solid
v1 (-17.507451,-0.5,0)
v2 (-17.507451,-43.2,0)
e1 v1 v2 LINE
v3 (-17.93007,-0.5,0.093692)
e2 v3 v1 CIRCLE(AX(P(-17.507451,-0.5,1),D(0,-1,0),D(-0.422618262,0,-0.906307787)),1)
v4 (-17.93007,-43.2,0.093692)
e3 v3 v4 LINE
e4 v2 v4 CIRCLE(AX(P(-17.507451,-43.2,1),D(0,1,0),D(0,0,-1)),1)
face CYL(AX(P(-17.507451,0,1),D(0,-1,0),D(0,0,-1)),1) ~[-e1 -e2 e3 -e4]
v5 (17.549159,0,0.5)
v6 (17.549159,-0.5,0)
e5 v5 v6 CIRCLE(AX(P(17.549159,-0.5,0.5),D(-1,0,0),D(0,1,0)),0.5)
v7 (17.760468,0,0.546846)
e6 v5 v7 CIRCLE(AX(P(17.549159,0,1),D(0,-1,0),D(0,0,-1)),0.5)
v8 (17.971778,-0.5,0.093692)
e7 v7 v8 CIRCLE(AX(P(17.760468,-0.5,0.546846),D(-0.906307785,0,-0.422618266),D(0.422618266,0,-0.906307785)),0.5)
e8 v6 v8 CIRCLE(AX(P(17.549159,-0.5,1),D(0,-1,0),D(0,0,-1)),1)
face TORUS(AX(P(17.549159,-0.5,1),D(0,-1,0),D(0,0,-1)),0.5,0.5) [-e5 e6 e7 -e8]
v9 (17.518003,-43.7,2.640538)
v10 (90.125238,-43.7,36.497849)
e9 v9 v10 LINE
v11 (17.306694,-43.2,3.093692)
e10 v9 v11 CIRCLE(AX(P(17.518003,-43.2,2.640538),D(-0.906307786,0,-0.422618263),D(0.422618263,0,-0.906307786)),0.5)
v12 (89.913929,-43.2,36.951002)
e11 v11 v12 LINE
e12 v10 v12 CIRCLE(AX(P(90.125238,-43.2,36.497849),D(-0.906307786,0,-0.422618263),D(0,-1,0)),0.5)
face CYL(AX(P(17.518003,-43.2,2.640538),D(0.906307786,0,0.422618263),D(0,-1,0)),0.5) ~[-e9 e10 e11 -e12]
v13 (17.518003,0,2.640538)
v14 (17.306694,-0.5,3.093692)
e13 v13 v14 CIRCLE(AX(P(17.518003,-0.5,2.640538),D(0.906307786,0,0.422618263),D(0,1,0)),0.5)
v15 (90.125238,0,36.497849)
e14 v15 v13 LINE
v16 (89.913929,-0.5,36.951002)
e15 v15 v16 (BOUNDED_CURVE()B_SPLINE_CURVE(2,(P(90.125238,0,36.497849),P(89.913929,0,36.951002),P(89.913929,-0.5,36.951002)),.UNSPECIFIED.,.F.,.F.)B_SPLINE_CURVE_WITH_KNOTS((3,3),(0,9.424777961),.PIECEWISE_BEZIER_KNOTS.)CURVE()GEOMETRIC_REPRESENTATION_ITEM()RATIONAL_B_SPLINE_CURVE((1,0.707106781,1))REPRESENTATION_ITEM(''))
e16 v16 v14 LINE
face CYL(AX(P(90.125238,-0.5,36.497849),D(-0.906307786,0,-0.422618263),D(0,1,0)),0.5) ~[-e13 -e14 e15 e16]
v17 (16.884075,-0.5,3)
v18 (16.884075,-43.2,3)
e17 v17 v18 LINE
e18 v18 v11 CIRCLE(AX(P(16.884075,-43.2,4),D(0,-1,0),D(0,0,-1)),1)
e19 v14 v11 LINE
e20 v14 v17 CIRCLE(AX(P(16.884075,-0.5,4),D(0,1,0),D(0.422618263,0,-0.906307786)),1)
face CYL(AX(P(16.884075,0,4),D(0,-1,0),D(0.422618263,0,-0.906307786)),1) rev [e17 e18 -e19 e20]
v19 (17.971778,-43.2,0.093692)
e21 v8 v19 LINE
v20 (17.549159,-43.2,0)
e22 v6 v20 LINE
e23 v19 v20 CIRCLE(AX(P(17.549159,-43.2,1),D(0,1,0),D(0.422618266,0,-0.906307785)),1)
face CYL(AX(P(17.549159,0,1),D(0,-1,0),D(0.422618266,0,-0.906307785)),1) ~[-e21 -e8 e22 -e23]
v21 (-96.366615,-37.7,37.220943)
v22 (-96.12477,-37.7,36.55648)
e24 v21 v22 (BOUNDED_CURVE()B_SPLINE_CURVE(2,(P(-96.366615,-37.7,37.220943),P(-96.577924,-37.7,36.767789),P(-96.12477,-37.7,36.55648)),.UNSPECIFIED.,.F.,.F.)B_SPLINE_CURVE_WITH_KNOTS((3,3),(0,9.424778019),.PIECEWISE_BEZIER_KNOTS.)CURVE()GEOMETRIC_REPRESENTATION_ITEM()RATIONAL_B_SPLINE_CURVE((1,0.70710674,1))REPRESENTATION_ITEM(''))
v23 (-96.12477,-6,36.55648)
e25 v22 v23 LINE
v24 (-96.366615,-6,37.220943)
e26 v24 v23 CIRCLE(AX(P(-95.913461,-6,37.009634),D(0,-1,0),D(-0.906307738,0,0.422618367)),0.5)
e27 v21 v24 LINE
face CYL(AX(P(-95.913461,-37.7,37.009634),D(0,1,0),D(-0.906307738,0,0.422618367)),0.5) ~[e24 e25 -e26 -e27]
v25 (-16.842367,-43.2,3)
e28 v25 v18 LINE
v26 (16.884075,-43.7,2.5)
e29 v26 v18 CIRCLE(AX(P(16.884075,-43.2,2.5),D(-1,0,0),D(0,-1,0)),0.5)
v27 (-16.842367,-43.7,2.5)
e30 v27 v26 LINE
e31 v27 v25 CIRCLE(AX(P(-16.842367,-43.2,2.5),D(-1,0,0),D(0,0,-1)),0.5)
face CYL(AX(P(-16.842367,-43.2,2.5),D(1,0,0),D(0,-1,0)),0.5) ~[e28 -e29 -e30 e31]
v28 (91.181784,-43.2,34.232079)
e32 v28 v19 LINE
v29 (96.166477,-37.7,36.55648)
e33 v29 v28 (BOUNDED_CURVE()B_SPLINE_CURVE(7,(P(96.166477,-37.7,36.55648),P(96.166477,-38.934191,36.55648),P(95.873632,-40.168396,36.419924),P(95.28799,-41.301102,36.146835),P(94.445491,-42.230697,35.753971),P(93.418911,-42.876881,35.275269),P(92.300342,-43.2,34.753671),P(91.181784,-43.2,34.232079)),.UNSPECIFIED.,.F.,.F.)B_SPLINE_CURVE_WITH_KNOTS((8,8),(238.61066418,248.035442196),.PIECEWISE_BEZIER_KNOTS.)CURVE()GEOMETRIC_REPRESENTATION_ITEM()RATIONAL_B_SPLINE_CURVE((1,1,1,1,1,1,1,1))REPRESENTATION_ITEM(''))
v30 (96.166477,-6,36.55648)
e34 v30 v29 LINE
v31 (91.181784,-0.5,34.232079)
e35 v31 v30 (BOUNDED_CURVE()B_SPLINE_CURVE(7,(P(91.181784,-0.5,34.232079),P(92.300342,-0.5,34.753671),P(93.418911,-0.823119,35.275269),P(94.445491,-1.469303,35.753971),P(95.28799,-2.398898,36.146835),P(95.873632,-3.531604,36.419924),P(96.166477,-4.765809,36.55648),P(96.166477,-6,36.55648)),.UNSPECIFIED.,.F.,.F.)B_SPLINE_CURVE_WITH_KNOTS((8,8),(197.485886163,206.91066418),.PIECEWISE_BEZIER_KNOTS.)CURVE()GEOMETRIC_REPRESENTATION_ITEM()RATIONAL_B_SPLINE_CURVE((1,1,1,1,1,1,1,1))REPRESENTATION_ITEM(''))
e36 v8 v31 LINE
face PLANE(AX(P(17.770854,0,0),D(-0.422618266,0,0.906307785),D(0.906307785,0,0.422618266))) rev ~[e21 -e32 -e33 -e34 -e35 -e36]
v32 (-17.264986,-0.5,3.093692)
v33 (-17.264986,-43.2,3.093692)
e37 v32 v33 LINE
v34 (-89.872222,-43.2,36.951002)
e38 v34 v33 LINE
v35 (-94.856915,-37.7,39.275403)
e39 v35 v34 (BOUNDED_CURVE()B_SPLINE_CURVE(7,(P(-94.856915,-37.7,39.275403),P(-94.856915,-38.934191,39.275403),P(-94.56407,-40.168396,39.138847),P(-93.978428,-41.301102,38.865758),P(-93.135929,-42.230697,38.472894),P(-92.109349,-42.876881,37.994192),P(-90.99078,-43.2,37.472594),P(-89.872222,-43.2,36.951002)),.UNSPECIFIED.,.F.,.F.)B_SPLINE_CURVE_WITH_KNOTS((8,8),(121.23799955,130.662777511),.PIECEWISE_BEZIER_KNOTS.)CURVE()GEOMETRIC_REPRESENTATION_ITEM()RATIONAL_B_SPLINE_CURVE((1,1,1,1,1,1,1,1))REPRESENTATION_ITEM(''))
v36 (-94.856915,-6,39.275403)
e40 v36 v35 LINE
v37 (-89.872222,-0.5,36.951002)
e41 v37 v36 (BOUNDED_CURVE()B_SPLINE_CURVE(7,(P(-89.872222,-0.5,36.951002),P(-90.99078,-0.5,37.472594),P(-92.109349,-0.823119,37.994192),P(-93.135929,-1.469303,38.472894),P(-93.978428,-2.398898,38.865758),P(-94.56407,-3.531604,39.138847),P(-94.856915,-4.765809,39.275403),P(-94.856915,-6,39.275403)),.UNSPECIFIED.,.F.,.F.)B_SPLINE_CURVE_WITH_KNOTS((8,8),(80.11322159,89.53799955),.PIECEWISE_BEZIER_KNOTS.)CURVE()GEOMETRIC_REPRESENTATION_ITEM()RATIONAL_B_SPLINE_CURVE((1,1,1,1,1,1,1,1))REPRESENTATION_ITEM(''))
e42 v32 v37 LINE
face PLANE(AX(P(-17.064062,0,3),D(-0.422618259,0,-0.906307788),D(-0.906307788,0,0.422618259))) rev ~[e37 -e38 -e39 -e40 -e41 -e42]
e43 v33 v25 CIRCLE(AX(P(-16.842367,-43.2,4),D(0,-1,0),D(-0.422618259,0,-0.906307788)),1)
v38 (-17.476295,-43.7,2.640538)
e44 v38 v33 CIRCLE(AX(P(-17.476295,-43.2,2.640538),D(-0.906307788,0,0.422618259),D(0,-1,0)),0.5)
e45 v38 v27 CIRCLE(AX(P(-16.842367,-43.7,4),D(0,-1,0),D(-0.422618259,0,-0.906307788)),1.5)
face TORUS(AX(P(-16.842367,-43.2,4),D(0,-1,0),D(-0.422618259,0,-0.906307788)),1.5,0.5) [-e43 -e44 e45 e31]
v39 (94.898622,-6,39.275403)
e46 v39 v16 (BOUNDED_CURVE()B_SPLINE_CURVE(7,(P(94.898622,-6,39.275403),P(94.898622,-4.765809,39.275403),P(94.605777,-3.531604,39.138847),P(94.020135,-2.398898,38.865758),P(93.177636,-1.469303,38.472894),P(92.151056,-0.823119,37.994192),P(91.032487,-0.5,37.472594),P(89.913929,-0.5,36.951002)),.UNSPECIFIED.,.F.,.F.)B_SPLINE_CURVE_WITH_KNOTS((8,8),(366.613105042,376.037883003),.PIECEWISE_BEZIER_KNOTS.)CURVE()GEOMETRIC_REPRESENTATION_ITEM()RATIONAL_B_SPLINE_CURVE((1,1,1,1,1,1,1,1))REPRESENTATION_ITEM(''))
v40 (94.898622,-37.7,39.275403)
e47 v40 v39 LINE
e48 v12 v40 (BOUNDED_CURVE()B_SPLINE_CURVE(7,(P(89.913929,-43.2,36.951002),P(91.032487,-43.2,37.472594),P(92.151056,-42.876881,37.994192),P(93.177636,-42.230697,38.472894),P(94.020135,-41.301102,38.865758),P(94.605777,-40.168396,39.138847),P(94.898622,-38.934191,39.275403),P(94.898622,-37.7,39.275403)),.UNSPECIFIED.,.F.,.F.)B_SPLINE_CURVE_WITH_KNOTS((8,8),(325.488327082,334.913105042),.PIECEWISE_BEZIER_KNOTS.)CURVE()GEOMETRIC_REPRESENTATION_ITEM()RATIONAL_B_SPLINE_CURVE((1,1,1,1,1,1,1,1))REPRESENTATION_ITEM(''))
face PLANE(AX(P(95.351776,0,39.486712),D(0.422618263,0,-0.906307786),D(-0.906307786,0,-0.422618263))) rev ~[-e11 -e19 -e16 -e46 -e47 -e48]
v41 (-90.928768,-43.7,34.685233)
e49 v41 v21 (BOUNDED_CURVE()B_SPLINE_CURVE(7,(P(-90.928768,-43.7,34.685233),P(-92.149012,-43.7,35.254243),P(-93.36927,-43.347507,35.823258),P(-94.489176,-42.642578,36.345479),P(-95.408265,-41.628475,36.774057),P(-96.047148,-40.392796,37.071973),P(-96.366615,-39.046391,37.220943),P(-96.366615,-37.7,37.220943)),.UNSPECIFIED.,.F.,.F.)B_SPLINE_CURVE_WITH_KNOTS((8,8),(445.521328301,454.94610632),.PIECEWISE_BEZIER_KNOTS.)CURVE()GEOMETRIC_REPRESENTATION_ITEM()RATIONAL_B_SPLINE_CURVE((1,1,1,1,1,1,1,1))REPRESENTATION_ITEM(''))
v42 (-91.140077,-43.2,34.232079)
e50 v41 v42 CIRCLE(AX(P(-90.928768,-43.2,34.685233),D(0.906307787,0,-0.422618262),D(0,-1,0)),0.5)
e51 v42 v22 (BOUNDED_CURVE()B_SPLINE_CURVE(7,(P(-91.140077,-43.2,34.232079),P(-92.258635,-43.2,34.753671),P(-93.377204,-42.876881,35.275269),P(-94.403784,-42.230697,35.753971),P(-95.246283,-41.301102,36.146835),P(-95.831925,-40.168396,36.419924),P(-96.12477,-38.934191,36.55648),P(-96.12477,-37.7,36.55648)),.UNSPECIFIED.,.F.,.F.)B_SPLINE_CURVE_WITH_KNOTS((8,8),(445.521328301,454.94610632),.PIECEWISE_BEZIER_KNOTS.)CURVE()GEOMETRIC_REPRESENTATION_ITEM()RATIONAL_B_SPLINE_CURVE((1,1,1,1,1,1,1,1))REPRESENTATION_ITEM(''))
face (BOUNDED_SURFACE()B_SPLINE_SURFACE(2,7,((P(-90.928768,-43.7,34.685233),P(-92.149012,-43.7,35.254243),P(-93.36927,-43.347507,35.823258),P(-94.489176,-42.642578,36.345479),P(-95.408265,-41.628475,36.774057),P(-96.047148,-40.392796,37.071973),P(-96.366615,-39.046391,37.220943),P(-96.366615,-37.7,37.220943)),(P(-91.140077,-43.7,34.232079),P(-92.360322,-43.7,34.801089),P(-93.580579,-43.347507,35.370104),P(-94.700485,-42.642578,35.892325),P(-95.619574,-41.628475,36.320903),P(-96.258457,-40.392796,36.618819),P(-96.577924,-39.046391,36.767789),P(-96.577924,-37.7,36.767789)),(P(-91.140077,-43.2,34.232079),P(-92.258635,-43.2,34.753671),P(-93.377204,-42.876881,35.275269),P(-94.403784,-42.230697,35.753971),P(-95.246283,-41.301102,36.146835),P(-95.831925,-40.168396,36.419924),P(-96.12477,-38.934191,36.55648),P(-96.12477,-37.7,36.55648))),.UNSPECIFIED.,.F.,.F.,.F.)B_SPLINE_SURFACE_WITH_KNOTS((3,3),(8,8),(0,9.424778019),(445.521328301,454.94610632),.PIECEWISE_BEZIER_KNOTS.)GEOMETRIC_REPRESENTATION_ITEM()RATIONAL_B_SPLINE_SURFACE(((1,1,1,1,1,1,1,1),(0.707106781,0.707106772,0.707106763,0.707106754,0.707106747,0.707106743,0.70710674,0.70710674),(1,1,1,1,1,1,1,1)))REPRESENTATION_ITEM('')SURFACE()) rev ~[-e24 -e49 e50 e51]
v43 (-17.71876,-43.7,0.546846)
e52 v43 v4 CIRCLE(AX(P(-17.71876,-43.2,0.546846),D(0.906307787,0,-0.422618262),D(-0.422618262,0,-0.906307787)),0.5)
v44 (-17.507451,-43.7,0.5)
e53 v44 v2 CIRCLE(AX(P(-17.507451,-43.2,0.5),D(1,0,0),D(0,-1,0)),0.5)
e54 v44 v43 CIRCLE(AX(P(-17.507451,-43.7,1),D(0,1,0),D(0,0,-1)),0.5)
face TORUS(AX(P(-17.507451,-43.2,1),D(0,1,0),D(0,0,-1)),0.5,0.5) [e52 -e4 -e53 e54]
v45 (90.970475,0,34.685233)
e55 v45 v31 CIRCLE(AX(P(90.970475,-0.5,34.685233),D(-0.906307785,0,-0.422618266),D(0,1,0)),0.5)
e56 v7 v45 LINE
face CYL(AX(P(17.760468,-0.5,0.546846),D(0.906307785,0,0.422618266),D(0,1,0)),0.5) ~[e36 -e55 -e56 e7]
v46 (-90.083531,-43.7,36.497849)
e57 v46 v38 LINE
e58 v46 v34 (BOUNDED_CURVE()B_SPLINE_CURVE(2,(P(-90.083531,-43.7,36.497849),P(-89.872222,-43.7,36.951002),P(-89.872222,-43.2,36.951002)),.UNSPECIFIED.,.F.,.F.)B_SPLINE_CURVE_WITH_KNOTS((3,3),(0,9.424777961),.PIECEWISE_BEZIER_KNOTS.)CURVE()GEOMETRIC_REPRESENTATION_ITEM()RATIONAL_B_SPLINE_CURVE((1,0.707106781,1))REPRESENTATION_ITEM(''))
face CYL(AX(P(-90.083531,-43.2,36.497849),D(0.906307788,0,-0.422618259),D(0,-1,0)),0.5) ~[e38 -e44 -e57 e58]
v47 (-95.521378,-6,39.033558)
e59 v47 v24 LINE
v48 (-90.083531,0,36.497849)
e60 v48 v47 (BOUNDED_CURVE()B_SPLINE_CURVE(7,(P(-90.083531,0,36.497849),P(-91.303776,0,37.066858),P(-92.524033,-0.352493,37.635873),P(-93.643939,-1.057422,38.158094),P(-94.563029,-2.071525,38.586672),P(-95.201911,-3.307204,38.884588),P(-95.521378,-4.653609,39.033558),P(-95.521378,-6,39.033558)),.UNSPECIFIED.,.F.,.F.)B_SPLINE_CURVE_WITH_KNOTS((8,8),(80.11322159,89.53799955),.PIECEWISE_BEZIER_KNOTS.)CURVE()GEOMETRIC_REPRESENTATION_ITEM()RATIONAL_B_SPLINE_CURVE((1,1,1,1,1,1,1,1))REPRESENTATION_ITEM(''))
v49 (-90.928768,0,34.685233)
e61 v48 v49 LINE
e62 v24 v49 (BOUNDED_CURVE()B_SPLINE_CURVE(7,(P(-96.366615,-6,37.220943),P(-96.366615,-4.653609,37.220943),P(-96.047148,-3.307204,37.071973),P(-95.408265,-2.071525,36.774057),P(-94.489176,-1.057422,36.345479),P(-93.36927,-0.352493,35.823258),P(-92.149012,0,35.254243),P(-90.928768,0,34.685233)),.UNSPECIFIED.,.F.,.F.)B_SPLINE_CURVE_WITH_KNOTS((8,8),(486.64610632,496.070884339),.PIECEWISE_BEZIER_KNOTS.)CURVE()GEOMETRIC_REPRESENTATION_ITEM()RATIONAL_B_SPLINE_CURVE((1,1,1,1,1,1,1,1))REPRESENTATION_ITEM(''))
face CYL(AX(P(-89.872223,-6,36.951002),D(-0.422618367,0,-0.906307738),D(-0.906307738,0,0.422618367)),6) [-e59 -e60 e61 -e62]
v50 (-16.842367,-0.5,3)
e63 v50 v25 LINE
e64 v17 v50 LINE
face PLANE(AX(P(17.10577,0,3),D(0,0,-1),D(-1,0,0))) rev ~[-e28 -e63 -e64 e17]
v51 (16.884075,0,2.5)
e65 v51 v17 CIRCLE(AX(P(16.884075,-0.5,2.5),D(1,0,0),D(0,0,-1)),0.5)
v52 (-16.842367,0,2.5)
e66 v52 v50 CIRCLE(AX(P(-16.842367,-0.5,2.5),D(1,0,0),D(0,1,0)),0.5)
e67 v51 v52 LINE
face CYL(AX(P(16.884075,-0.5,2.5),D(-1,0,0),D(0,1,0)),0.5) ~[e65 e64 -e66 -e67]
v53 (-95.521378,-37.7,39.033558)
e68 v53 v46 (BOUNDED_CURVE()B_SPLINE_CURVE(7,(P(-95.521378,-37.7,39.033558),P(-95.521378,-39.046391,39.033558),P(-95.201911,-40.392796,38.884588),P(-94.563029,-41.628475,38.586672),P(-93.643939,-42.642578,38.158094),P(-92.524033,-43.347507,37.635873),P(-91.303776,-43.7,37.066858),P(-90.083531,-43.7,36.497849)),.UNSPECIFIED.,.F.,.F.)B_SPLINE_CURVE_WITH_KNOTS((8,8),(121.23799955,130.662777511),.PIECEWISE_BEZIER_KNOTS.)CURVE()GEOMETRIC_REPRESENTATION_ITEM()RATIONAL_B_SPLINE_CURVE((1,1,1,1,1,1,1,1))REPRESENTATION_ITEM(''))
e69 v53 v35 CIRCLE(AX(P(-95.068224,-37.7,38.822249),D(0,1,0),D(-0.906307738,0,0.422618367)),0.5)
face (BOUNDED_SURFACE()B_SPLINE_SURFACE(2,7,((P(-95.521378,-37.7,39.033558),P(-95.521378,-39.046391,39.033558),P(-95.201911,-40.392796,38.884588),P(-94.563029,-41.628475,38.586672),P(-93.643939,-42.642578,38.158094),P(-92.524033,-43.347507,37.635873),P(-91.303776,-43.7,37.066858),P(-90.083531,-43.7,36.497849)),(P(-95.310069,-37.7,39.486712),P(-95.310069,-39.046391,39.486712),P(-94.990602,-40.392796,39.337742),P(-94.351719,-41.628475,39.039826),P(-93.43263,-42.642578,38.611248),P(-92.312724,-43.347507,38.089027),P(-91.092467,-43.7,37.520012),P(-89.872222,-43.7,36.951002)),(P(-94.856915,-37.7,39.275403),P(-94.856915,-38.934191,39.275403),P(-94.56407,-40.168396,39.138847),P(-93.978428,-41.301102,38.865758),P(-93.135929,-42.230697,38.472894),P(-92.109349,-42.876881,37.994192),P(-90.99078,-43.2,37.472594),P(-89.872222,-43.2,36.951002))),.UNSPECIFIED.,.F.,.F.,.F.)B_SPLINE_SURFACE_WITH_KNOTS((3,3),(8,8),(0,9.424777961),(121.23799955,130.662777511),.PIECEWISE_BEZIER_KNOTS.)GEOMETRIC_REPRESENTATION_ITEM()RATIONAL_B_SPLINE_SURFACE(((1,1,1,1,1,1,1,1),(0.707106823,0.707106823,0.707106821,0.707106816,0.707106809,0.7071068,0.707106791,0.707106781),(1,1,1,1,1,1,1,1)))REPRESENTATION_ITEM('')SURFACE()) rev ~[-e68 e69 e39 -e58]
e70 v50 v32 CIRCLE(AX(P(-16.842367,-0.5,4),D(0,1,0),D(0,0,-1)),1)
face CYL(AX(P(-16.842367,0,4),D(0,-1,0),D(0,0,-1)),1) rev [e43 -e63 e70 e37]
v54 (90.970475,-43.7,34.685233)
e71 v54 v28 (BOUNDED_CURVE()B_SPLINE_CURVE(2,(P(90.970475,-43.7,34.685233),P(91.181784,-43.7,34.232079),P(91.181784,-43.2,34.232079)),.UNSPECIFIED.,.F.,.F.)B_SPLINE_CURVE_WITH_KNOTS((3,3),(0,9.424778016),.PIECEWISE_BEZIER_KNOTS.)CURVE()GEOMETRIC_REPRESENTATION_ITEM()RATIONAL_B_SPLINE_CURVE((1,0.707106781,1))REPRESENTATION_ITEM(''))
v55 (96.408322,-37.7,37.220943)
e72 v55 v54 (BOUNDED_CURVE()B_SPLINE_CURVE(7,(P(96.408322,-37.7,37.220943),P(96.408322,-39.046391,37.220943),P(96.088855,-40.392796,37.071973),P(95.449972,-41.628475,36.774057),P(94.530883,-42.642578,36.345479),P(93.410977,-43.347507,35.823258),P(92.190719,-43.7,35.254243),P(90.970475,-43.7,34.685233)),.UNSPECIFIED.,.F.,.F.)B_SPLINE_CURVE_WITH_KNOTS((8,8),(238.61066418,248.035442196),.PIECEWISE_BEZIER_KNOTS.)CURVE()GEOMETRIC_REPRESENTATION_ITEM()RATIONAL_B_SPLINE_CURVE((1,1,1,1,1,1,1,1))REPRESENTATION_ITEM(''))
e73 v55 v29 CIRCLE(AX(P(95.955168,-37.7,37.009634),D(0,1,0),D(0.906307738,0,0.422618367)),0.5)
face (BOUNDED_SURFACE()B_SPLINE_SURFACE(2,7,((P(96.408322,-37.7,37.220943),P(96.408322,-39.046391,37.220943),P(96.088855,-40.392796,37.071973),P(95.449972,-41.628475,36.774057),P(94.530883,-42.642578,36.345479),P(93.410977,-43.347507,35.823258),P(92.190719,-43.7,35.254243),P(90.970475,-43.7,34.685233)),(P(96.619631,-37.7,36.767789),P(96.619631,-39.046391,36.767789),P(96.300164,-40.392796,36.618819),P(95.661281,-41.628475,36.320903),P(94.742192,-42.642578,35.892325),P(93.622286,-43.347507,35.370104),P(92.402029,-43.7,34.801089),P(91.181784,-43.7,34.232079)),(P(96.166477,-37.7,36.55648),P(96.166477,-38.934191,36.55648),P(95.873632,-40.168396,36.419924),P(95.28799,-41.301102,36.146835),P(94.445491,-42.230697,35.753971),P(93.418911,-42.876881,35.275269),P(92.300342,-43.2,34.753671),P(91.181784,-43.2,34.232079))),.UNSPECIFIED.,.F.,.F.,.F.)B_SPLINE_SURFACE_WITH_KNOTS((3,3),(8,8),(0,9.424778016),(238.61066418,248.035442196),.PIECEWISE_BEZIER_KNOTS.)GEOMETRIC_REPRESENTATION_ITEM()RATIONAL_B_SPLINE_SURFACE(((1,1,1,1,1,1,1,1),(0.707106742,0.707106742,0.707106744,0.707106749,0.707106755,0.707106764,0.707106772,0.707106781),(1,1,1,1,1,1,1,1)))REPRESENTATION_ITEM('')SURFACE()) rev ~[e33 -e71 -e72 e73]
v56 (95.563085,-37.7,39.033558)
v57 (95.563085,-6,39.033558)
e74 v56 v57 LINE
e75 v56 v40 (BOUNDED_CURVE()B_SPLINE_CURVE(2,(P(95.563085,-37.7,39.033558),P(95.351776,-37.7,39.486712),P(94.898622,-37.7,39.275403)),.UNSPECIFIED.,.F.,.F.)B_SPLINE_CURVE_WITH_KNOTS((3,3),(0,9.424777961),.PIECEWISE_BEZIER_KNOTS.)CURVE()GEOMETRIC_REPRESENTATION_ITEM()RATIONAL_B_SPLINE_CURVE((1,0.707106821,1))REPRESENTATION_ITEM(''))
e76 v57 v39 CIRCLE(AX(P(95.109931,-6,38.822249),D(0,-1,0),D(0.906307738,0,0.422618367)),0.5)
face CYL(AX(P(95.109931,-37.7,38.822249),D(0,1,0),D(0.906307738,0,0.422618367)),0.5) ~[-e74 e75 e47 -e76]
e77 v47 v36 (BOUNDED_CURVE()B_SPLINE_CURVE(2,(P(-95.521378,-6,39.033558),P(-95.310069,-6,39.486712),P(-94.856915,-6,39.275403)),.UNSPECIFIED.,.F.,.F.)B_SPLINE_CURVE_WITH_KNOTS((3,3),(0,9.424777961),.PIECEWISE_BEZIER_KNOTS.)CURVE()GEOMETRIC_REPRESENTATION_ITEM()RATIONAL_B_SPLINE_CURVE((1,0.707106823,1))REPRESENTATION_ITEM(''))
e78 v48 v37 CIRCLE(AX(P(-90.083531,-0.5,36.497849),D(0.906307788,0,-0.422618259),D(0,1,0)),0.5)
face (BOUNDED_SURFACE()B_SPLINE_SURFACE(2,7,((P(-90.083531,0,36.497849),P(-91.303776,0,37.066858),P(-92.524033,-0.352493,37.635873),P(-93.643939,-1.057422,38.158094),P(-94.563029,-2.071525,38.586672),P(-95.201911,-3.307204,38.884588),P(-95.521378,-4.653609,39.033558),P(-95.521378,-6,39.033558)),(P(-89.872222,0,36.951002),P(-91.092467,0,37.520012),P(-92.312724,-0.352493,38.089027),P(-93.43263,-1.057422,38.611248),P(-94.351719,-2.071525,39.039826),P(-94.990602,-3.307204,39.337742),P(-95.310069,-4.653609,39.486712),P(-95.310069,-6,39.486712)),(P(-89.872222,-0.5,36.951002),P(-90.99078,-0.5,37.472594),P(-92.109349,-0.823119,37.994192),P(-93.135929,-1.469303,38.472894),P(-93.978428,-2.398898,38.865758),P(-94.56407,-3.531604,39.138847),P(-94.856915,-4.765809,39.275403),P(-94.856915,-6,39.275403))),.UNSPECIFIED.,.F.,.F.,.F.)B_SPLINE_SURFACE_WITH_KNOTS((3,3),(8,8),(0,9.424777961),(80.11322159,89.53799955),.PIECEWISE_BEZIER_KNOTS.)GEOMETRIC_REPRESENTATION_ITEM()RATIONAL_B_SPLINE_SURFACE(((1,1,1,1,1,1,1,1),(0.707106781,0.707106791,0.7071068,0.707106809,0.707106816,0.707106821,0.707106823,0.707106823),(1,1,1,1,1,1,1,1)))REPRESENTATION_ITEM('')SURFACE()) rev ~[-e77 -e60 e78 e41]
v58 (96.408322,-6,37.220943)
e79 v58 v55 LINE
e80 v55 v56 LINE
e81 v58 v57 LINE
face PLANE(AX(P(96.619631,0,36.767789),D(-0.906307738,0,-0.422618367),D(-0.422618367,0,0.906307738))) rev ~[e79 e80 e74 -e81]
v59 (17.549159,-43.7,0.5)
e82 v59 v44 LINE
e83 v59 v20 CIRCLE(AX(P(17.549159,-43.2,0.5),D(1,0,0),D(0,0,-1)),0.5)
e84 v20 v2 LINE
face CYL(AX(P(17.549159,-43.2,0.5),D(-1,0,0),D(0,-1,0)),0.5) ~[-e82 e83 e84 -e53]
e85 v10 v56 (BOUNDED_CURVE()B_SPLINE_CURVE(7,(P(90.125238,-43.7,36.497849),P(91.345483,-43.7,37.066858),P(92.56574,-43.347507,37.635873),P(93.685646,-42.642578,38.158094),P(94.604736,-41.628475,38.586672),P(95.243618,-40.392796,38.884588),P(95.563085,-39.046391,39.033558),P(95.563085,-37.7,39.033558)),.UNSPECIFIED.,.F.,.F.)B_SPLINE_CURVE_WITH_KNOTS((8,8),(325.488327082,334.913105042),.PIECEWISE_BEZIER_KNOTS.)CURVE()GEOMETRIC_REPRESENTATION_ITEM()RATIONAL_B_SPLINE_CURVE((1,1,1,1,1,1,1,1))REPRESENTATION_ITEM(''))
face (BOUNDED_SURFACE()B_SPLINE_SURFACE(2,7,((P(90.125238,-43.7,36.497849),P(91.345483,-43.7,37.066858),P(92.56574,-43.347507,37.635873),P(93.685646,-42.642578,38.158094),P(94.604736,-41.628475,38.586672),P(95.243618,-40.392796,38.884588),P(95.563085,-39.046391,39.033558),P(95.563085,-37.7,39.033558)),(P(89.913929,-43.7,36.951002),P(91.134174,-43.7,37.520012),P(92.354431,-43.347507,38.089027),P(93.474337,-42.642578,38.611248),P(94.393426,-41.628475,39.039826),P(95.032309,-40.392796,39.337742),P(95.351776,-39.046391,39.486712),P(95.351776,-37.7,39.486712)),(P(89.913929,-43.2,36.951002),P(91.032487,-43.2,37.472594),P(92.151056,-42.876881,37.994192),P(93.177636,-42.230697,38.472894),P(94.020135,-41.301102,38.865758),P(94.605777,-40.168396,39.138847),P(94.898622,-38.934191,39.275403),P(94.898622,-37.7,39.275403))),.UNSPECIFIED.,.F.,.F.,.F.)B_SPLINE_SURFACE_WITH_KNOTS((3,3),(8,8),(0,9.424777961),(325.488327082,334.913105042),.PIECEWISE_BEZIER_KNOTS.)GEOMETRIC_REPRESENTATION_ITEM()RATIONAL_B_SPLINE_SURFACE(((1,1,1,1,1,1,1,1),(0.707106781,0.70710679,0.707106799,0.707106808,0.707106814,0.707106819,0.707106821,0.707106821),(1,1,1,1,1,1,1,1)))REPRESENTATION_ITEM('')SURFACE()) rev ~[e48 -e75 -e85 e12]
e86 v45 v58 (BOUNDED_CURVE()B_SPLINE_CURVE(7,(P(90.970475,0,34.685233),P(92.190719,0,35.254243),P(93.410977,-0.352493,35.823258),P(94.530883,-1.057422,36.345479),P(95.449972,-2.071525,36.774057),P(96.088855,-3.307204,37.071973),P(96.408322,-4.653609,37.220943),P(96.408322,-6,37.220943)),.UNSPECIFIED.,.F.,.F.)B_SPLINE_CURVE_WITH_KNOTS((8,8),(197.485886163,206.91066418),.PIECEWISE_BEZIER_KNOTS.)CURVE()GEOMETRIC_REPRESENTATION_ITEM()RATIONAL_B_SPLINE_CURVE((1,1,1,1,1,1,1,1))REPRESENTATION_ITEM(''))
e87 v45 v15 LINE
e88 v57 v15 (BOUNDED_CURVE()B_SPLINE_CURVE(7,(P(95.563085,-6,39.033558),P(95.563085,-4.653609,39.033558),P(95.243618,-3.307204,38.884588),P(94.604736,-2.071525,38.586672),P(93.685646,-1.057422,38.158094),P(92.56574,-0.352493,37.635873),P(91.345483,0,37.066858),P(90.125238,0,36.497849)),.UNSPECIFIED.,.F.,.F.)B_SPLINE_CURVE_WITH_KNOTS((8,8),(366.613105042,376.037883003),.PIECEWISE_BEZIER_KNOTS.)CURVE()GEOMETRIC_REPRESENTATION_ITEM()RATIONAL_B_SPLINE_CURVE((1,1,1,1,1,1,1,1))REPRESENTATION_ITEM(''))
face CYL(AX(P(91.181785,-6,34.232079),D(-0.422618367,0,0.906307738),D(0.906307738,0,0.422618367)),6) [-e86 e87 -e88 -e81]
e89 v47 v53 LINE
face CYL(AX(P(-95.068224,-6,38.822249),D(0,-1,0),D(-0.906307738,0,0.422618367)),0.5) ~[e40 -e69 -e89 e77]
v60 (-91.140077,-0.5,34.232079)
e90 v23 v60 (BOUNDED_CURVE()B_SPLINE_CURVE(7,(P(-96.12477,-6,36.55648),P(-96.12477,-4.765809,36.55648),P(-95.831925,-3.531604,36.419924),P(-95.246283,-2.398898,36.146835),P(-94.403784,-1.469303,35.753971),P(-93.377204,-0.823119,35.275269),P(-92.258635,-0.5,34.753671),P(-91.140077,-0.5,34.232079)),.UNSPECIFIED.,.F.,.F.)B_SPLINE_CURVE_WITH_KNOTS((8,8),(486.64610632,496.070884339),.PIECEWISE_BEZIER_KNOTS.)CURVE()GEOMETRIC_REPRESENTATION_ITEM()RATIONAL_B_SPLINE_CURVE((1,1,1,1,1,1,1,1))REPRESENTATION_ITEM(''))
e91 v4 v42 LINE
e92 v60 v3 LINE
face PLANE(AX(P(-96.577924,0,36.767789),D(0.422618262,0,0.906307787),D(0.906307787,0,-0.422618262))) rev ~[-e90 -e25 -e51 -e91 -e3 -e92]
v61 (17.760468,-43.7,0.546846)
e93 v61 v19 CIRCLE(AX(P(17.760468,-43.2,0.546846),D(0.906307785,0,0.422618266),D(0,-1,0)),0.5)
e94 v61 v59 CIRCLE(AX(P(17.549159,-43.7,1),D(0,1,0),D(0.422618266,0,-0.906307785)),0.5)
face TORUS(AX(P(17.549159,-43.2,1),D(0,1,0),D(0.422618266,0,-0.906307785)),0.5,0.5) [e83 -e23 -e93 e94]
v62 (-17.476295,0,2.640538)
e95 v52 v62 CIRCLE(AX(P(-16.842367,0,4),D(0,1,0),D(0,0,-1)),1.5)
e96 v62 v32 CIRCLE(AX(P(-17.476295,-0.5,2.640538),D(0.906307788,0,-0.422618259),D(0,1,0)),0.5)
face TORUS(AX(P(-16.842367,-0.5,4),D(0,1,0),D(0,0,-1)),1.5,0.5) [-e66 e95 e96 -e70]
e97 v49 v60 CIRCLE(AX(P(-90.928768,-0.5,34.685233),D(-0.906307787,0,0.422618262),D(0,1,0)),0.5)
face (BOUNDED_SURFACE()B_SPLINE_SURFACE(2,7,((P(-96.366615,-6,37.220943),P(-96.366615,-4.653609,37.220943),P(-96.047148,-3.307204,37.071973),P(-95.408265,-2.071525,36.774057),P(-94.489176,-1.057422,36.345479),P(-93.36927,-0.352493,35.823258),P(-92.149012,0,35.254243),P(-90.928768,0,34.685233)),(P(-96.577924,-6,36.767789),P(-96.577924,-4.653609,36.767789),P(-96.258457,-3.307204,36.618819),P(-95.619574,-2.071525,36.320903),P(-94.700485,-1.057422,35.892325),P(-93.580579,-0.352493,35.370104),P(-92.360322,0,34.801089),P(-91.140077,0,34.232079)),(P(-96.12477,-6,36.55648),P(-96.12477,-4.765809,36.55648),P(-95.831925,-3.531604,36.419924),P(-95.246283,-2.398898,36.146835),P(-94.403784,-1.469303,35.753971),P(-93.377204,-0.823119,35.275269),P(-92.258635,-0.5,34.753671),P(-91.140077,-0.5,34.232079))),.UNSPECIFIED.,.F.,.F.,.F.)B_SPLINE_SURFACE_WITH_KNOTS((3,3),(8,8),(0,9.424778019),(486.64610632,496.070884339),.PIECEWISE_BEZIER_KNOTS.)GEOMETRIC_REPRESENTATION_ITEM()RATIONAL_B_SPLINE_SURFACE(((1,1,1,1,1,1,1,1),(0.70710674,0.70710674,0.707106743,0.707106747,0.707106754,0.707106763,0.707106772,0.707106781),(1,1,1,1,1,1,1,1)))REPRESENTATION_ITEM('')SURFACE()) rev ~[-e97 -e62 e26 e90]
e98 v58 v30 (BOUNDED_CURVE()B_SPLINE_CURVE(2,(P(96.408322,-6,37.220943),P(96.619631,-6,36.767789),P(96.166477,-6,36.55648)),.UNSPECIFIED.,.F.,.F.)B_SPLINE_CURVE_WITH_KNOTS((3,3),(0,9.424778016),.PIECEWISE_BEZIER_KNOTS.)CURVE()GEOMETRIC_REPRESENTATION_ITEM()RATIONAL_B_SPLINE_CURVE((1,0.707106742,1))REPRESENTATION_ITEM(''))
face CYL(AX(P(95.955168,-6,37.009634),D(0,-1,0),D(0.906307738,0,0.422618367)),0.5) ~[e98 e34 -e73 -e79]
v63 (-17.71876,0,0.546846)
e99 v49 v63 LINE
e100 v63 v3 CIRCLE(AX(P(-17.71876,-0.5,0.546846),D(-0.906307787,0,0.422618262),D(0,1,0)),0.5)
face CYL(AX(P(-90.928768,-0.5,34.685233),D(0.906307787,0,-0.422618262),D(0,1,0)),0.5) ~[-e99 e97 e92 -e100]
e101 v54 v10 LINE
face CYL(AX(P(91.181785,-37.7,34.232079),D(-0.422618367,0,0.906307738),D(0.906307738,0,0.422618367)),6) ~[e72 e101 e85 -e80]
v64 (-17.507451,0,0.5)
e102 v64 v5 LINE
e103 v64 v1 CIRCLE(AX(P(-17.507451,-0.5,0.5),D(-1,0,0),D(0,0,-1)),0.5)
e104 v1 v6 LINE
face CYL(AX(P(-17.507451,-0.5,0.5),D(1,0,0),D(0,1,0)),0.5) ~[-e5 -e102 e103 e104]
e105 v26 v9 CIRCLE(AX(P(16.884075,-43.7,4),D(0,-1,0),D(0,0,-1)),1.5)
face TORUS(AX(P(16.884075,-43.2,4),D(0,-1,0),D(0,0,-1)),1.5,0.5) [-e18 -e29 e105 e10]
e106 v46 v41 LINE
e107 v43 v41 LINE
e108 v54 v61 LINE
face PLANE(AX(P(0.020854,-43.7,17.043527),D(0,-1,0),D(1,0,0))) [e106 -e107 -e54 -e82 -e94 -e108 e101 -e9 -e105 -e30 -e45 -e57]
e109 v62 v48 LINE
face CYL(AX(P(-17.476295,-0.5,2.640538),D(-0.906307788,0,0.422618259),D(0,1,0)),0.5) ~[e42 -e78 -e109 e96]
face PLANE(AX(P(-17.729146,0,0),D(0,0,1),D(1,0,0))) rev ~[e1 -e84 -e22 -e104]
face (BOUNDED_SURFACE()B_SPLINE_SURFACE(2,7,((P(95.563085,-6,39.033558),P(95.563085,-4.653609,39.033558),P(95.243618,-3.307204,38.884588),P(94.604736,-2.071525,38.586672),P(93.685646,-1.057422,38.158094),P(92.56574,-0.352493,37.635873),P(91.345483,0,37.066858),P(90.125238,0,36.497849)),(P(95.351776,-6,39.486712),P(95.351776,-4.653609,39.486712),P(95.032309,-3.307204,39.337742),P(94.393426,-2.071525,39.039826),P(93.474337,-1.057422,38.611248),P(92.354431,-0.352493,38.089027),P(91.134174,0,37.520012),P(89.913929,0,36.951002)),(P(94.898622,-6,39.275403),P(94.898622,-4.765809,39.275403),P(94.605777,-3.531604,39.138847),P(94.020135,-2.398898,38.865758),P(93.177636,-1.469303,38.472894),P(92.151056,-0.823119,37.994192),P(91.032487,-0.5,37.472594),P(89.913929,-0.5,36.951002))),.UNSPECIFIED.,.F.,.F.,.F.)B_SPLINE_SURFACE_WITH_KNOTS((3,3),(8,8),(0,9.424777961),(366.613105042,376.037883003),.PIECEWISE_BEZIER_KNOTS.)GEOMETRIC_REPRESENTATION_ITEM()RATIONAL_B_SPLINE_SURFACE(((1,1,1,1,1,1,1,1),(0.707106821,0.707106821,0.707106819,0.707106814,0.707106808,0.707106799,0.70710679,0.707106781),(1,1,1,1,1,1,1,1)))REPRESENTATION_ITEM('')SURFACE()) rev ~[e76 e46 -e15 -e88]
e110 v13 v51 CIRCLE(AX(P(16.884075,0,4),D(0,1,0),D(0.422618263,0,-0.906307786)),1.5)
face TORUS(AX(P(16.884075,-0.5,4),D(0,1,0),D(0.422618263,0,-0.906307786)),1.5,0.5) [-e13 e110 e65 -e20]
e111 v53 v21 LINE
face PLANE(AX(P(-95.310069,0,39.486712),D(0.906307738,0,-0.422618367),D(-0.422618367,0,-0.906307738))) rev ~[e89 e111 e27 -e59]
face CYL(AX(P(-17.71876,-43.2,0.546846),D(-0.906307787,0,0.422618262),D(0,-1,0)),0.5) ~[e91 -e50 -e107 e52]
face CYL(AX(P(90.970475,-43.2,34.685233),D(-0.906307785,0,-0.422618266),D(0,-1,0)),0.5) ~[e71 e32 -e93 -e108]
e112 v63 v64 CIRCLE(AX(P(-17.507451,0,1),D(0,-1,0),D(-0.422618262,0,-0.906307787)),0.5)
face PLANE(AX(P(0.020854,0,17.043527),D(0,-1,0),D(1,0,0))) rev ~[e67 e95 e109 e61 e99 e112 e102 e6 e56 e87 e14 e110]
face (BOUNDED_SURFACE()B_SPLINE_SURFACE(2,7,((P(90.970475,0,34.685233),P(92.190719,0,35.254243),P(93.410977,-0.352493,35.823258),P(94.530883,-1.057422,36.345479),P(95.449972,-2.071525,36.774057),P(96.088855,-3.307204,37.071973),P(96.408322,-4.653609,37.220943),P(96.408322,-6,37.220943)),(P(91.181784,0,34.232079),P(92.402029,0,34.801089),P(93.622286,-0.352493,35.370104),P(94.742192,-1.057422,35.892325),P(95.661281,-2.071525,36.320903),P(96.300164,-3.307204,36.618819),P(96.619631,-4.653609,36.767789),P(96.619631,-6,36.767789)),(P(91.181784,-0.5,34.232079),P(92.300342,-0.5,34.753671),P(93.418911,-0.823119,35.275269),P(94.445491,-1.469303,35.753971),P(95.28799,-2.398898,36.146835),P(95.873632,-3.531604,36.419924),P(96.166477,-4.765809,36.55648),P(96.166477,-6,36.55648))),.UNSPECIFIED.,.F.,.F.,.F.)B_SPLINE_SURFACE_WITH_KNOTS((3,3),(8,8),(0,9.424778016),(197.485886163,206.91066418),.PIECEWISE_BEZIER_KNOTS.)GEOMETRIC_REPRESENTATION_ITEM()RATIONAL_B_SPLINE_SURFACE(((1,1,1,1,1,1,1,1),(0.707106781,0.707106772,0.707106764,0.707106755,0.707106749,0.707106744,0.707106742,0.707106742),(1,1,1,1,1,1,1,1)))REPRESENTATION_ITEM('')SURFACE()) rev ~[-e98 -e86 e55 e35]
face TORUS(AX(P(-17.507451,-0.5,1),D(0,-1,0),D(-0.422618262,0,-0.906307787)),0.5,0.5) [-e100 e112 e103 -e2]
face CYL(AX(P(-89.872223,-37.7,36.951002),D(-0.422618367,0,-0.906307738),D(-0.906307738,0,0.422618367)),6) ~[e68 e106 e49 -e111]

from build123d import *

# Parameters (mm, degrees)
F1_DEPTH = 43.7
F2_R     = 6
F3_R     = 1
F4_R     = 0.5


with BuildPart() as f1:
    # F0 (on Front) → F1 (new body)
    with BuildSketch(Plane.XZ):
        Polygon((-17.729146, 0), (17.770854, 0), (96.619631, 36.767789), (95.351776, 39.486712), (17.10577, 3), (-17.064062, 3), (-95.310069, 39.486712), (-96.577924, 36.767789), align=None)
    extrude(amount=F1_DEPTH)

    # F2
    f2_edges = [f1.edges().sort_by_distance(p)[0] for p in [
        (-95.943996, -43.7, 38.12725),
        (-95.943996, 0, 38.12725),
        (95.985704, 0, 38.12725),
        (95.985704, -43.7, 38.12725),
    ]]
    fillet(f2_edges, radius=F2_R)

    # F3
    f3_edges = [f1.edges().sort_by_distance(p)[0] for p in [
        (17.770854, -21.85, 0),
        (-17.729146, -21.85, 0),
        (17.10577, -21.85, 3),
        (-17.064062, -21.85, 3),
    ]]
    fillet(f3_edges, radius=F3_R)

    # F4
    f4_edges = [f1.edges().sort_by_distance(p)[0] for p in [
        (-53.568604, 0, 20.022347),
        (0.020854, 0, 3),
        (-54.535074, 0, 17.162886),
        (-17.93007, -21.85, 0.093692),
        (-94.985215, -1.757359, 36.025097),
        (-54.535074, -43.7, 17.162886),
        (-96.577924, -21.85, 36.767789),
        (-94.985215, -41.942641, 36.025097),
    ]]
    fillet(f4_edges, radius=F4_R)


solid = f1.part
